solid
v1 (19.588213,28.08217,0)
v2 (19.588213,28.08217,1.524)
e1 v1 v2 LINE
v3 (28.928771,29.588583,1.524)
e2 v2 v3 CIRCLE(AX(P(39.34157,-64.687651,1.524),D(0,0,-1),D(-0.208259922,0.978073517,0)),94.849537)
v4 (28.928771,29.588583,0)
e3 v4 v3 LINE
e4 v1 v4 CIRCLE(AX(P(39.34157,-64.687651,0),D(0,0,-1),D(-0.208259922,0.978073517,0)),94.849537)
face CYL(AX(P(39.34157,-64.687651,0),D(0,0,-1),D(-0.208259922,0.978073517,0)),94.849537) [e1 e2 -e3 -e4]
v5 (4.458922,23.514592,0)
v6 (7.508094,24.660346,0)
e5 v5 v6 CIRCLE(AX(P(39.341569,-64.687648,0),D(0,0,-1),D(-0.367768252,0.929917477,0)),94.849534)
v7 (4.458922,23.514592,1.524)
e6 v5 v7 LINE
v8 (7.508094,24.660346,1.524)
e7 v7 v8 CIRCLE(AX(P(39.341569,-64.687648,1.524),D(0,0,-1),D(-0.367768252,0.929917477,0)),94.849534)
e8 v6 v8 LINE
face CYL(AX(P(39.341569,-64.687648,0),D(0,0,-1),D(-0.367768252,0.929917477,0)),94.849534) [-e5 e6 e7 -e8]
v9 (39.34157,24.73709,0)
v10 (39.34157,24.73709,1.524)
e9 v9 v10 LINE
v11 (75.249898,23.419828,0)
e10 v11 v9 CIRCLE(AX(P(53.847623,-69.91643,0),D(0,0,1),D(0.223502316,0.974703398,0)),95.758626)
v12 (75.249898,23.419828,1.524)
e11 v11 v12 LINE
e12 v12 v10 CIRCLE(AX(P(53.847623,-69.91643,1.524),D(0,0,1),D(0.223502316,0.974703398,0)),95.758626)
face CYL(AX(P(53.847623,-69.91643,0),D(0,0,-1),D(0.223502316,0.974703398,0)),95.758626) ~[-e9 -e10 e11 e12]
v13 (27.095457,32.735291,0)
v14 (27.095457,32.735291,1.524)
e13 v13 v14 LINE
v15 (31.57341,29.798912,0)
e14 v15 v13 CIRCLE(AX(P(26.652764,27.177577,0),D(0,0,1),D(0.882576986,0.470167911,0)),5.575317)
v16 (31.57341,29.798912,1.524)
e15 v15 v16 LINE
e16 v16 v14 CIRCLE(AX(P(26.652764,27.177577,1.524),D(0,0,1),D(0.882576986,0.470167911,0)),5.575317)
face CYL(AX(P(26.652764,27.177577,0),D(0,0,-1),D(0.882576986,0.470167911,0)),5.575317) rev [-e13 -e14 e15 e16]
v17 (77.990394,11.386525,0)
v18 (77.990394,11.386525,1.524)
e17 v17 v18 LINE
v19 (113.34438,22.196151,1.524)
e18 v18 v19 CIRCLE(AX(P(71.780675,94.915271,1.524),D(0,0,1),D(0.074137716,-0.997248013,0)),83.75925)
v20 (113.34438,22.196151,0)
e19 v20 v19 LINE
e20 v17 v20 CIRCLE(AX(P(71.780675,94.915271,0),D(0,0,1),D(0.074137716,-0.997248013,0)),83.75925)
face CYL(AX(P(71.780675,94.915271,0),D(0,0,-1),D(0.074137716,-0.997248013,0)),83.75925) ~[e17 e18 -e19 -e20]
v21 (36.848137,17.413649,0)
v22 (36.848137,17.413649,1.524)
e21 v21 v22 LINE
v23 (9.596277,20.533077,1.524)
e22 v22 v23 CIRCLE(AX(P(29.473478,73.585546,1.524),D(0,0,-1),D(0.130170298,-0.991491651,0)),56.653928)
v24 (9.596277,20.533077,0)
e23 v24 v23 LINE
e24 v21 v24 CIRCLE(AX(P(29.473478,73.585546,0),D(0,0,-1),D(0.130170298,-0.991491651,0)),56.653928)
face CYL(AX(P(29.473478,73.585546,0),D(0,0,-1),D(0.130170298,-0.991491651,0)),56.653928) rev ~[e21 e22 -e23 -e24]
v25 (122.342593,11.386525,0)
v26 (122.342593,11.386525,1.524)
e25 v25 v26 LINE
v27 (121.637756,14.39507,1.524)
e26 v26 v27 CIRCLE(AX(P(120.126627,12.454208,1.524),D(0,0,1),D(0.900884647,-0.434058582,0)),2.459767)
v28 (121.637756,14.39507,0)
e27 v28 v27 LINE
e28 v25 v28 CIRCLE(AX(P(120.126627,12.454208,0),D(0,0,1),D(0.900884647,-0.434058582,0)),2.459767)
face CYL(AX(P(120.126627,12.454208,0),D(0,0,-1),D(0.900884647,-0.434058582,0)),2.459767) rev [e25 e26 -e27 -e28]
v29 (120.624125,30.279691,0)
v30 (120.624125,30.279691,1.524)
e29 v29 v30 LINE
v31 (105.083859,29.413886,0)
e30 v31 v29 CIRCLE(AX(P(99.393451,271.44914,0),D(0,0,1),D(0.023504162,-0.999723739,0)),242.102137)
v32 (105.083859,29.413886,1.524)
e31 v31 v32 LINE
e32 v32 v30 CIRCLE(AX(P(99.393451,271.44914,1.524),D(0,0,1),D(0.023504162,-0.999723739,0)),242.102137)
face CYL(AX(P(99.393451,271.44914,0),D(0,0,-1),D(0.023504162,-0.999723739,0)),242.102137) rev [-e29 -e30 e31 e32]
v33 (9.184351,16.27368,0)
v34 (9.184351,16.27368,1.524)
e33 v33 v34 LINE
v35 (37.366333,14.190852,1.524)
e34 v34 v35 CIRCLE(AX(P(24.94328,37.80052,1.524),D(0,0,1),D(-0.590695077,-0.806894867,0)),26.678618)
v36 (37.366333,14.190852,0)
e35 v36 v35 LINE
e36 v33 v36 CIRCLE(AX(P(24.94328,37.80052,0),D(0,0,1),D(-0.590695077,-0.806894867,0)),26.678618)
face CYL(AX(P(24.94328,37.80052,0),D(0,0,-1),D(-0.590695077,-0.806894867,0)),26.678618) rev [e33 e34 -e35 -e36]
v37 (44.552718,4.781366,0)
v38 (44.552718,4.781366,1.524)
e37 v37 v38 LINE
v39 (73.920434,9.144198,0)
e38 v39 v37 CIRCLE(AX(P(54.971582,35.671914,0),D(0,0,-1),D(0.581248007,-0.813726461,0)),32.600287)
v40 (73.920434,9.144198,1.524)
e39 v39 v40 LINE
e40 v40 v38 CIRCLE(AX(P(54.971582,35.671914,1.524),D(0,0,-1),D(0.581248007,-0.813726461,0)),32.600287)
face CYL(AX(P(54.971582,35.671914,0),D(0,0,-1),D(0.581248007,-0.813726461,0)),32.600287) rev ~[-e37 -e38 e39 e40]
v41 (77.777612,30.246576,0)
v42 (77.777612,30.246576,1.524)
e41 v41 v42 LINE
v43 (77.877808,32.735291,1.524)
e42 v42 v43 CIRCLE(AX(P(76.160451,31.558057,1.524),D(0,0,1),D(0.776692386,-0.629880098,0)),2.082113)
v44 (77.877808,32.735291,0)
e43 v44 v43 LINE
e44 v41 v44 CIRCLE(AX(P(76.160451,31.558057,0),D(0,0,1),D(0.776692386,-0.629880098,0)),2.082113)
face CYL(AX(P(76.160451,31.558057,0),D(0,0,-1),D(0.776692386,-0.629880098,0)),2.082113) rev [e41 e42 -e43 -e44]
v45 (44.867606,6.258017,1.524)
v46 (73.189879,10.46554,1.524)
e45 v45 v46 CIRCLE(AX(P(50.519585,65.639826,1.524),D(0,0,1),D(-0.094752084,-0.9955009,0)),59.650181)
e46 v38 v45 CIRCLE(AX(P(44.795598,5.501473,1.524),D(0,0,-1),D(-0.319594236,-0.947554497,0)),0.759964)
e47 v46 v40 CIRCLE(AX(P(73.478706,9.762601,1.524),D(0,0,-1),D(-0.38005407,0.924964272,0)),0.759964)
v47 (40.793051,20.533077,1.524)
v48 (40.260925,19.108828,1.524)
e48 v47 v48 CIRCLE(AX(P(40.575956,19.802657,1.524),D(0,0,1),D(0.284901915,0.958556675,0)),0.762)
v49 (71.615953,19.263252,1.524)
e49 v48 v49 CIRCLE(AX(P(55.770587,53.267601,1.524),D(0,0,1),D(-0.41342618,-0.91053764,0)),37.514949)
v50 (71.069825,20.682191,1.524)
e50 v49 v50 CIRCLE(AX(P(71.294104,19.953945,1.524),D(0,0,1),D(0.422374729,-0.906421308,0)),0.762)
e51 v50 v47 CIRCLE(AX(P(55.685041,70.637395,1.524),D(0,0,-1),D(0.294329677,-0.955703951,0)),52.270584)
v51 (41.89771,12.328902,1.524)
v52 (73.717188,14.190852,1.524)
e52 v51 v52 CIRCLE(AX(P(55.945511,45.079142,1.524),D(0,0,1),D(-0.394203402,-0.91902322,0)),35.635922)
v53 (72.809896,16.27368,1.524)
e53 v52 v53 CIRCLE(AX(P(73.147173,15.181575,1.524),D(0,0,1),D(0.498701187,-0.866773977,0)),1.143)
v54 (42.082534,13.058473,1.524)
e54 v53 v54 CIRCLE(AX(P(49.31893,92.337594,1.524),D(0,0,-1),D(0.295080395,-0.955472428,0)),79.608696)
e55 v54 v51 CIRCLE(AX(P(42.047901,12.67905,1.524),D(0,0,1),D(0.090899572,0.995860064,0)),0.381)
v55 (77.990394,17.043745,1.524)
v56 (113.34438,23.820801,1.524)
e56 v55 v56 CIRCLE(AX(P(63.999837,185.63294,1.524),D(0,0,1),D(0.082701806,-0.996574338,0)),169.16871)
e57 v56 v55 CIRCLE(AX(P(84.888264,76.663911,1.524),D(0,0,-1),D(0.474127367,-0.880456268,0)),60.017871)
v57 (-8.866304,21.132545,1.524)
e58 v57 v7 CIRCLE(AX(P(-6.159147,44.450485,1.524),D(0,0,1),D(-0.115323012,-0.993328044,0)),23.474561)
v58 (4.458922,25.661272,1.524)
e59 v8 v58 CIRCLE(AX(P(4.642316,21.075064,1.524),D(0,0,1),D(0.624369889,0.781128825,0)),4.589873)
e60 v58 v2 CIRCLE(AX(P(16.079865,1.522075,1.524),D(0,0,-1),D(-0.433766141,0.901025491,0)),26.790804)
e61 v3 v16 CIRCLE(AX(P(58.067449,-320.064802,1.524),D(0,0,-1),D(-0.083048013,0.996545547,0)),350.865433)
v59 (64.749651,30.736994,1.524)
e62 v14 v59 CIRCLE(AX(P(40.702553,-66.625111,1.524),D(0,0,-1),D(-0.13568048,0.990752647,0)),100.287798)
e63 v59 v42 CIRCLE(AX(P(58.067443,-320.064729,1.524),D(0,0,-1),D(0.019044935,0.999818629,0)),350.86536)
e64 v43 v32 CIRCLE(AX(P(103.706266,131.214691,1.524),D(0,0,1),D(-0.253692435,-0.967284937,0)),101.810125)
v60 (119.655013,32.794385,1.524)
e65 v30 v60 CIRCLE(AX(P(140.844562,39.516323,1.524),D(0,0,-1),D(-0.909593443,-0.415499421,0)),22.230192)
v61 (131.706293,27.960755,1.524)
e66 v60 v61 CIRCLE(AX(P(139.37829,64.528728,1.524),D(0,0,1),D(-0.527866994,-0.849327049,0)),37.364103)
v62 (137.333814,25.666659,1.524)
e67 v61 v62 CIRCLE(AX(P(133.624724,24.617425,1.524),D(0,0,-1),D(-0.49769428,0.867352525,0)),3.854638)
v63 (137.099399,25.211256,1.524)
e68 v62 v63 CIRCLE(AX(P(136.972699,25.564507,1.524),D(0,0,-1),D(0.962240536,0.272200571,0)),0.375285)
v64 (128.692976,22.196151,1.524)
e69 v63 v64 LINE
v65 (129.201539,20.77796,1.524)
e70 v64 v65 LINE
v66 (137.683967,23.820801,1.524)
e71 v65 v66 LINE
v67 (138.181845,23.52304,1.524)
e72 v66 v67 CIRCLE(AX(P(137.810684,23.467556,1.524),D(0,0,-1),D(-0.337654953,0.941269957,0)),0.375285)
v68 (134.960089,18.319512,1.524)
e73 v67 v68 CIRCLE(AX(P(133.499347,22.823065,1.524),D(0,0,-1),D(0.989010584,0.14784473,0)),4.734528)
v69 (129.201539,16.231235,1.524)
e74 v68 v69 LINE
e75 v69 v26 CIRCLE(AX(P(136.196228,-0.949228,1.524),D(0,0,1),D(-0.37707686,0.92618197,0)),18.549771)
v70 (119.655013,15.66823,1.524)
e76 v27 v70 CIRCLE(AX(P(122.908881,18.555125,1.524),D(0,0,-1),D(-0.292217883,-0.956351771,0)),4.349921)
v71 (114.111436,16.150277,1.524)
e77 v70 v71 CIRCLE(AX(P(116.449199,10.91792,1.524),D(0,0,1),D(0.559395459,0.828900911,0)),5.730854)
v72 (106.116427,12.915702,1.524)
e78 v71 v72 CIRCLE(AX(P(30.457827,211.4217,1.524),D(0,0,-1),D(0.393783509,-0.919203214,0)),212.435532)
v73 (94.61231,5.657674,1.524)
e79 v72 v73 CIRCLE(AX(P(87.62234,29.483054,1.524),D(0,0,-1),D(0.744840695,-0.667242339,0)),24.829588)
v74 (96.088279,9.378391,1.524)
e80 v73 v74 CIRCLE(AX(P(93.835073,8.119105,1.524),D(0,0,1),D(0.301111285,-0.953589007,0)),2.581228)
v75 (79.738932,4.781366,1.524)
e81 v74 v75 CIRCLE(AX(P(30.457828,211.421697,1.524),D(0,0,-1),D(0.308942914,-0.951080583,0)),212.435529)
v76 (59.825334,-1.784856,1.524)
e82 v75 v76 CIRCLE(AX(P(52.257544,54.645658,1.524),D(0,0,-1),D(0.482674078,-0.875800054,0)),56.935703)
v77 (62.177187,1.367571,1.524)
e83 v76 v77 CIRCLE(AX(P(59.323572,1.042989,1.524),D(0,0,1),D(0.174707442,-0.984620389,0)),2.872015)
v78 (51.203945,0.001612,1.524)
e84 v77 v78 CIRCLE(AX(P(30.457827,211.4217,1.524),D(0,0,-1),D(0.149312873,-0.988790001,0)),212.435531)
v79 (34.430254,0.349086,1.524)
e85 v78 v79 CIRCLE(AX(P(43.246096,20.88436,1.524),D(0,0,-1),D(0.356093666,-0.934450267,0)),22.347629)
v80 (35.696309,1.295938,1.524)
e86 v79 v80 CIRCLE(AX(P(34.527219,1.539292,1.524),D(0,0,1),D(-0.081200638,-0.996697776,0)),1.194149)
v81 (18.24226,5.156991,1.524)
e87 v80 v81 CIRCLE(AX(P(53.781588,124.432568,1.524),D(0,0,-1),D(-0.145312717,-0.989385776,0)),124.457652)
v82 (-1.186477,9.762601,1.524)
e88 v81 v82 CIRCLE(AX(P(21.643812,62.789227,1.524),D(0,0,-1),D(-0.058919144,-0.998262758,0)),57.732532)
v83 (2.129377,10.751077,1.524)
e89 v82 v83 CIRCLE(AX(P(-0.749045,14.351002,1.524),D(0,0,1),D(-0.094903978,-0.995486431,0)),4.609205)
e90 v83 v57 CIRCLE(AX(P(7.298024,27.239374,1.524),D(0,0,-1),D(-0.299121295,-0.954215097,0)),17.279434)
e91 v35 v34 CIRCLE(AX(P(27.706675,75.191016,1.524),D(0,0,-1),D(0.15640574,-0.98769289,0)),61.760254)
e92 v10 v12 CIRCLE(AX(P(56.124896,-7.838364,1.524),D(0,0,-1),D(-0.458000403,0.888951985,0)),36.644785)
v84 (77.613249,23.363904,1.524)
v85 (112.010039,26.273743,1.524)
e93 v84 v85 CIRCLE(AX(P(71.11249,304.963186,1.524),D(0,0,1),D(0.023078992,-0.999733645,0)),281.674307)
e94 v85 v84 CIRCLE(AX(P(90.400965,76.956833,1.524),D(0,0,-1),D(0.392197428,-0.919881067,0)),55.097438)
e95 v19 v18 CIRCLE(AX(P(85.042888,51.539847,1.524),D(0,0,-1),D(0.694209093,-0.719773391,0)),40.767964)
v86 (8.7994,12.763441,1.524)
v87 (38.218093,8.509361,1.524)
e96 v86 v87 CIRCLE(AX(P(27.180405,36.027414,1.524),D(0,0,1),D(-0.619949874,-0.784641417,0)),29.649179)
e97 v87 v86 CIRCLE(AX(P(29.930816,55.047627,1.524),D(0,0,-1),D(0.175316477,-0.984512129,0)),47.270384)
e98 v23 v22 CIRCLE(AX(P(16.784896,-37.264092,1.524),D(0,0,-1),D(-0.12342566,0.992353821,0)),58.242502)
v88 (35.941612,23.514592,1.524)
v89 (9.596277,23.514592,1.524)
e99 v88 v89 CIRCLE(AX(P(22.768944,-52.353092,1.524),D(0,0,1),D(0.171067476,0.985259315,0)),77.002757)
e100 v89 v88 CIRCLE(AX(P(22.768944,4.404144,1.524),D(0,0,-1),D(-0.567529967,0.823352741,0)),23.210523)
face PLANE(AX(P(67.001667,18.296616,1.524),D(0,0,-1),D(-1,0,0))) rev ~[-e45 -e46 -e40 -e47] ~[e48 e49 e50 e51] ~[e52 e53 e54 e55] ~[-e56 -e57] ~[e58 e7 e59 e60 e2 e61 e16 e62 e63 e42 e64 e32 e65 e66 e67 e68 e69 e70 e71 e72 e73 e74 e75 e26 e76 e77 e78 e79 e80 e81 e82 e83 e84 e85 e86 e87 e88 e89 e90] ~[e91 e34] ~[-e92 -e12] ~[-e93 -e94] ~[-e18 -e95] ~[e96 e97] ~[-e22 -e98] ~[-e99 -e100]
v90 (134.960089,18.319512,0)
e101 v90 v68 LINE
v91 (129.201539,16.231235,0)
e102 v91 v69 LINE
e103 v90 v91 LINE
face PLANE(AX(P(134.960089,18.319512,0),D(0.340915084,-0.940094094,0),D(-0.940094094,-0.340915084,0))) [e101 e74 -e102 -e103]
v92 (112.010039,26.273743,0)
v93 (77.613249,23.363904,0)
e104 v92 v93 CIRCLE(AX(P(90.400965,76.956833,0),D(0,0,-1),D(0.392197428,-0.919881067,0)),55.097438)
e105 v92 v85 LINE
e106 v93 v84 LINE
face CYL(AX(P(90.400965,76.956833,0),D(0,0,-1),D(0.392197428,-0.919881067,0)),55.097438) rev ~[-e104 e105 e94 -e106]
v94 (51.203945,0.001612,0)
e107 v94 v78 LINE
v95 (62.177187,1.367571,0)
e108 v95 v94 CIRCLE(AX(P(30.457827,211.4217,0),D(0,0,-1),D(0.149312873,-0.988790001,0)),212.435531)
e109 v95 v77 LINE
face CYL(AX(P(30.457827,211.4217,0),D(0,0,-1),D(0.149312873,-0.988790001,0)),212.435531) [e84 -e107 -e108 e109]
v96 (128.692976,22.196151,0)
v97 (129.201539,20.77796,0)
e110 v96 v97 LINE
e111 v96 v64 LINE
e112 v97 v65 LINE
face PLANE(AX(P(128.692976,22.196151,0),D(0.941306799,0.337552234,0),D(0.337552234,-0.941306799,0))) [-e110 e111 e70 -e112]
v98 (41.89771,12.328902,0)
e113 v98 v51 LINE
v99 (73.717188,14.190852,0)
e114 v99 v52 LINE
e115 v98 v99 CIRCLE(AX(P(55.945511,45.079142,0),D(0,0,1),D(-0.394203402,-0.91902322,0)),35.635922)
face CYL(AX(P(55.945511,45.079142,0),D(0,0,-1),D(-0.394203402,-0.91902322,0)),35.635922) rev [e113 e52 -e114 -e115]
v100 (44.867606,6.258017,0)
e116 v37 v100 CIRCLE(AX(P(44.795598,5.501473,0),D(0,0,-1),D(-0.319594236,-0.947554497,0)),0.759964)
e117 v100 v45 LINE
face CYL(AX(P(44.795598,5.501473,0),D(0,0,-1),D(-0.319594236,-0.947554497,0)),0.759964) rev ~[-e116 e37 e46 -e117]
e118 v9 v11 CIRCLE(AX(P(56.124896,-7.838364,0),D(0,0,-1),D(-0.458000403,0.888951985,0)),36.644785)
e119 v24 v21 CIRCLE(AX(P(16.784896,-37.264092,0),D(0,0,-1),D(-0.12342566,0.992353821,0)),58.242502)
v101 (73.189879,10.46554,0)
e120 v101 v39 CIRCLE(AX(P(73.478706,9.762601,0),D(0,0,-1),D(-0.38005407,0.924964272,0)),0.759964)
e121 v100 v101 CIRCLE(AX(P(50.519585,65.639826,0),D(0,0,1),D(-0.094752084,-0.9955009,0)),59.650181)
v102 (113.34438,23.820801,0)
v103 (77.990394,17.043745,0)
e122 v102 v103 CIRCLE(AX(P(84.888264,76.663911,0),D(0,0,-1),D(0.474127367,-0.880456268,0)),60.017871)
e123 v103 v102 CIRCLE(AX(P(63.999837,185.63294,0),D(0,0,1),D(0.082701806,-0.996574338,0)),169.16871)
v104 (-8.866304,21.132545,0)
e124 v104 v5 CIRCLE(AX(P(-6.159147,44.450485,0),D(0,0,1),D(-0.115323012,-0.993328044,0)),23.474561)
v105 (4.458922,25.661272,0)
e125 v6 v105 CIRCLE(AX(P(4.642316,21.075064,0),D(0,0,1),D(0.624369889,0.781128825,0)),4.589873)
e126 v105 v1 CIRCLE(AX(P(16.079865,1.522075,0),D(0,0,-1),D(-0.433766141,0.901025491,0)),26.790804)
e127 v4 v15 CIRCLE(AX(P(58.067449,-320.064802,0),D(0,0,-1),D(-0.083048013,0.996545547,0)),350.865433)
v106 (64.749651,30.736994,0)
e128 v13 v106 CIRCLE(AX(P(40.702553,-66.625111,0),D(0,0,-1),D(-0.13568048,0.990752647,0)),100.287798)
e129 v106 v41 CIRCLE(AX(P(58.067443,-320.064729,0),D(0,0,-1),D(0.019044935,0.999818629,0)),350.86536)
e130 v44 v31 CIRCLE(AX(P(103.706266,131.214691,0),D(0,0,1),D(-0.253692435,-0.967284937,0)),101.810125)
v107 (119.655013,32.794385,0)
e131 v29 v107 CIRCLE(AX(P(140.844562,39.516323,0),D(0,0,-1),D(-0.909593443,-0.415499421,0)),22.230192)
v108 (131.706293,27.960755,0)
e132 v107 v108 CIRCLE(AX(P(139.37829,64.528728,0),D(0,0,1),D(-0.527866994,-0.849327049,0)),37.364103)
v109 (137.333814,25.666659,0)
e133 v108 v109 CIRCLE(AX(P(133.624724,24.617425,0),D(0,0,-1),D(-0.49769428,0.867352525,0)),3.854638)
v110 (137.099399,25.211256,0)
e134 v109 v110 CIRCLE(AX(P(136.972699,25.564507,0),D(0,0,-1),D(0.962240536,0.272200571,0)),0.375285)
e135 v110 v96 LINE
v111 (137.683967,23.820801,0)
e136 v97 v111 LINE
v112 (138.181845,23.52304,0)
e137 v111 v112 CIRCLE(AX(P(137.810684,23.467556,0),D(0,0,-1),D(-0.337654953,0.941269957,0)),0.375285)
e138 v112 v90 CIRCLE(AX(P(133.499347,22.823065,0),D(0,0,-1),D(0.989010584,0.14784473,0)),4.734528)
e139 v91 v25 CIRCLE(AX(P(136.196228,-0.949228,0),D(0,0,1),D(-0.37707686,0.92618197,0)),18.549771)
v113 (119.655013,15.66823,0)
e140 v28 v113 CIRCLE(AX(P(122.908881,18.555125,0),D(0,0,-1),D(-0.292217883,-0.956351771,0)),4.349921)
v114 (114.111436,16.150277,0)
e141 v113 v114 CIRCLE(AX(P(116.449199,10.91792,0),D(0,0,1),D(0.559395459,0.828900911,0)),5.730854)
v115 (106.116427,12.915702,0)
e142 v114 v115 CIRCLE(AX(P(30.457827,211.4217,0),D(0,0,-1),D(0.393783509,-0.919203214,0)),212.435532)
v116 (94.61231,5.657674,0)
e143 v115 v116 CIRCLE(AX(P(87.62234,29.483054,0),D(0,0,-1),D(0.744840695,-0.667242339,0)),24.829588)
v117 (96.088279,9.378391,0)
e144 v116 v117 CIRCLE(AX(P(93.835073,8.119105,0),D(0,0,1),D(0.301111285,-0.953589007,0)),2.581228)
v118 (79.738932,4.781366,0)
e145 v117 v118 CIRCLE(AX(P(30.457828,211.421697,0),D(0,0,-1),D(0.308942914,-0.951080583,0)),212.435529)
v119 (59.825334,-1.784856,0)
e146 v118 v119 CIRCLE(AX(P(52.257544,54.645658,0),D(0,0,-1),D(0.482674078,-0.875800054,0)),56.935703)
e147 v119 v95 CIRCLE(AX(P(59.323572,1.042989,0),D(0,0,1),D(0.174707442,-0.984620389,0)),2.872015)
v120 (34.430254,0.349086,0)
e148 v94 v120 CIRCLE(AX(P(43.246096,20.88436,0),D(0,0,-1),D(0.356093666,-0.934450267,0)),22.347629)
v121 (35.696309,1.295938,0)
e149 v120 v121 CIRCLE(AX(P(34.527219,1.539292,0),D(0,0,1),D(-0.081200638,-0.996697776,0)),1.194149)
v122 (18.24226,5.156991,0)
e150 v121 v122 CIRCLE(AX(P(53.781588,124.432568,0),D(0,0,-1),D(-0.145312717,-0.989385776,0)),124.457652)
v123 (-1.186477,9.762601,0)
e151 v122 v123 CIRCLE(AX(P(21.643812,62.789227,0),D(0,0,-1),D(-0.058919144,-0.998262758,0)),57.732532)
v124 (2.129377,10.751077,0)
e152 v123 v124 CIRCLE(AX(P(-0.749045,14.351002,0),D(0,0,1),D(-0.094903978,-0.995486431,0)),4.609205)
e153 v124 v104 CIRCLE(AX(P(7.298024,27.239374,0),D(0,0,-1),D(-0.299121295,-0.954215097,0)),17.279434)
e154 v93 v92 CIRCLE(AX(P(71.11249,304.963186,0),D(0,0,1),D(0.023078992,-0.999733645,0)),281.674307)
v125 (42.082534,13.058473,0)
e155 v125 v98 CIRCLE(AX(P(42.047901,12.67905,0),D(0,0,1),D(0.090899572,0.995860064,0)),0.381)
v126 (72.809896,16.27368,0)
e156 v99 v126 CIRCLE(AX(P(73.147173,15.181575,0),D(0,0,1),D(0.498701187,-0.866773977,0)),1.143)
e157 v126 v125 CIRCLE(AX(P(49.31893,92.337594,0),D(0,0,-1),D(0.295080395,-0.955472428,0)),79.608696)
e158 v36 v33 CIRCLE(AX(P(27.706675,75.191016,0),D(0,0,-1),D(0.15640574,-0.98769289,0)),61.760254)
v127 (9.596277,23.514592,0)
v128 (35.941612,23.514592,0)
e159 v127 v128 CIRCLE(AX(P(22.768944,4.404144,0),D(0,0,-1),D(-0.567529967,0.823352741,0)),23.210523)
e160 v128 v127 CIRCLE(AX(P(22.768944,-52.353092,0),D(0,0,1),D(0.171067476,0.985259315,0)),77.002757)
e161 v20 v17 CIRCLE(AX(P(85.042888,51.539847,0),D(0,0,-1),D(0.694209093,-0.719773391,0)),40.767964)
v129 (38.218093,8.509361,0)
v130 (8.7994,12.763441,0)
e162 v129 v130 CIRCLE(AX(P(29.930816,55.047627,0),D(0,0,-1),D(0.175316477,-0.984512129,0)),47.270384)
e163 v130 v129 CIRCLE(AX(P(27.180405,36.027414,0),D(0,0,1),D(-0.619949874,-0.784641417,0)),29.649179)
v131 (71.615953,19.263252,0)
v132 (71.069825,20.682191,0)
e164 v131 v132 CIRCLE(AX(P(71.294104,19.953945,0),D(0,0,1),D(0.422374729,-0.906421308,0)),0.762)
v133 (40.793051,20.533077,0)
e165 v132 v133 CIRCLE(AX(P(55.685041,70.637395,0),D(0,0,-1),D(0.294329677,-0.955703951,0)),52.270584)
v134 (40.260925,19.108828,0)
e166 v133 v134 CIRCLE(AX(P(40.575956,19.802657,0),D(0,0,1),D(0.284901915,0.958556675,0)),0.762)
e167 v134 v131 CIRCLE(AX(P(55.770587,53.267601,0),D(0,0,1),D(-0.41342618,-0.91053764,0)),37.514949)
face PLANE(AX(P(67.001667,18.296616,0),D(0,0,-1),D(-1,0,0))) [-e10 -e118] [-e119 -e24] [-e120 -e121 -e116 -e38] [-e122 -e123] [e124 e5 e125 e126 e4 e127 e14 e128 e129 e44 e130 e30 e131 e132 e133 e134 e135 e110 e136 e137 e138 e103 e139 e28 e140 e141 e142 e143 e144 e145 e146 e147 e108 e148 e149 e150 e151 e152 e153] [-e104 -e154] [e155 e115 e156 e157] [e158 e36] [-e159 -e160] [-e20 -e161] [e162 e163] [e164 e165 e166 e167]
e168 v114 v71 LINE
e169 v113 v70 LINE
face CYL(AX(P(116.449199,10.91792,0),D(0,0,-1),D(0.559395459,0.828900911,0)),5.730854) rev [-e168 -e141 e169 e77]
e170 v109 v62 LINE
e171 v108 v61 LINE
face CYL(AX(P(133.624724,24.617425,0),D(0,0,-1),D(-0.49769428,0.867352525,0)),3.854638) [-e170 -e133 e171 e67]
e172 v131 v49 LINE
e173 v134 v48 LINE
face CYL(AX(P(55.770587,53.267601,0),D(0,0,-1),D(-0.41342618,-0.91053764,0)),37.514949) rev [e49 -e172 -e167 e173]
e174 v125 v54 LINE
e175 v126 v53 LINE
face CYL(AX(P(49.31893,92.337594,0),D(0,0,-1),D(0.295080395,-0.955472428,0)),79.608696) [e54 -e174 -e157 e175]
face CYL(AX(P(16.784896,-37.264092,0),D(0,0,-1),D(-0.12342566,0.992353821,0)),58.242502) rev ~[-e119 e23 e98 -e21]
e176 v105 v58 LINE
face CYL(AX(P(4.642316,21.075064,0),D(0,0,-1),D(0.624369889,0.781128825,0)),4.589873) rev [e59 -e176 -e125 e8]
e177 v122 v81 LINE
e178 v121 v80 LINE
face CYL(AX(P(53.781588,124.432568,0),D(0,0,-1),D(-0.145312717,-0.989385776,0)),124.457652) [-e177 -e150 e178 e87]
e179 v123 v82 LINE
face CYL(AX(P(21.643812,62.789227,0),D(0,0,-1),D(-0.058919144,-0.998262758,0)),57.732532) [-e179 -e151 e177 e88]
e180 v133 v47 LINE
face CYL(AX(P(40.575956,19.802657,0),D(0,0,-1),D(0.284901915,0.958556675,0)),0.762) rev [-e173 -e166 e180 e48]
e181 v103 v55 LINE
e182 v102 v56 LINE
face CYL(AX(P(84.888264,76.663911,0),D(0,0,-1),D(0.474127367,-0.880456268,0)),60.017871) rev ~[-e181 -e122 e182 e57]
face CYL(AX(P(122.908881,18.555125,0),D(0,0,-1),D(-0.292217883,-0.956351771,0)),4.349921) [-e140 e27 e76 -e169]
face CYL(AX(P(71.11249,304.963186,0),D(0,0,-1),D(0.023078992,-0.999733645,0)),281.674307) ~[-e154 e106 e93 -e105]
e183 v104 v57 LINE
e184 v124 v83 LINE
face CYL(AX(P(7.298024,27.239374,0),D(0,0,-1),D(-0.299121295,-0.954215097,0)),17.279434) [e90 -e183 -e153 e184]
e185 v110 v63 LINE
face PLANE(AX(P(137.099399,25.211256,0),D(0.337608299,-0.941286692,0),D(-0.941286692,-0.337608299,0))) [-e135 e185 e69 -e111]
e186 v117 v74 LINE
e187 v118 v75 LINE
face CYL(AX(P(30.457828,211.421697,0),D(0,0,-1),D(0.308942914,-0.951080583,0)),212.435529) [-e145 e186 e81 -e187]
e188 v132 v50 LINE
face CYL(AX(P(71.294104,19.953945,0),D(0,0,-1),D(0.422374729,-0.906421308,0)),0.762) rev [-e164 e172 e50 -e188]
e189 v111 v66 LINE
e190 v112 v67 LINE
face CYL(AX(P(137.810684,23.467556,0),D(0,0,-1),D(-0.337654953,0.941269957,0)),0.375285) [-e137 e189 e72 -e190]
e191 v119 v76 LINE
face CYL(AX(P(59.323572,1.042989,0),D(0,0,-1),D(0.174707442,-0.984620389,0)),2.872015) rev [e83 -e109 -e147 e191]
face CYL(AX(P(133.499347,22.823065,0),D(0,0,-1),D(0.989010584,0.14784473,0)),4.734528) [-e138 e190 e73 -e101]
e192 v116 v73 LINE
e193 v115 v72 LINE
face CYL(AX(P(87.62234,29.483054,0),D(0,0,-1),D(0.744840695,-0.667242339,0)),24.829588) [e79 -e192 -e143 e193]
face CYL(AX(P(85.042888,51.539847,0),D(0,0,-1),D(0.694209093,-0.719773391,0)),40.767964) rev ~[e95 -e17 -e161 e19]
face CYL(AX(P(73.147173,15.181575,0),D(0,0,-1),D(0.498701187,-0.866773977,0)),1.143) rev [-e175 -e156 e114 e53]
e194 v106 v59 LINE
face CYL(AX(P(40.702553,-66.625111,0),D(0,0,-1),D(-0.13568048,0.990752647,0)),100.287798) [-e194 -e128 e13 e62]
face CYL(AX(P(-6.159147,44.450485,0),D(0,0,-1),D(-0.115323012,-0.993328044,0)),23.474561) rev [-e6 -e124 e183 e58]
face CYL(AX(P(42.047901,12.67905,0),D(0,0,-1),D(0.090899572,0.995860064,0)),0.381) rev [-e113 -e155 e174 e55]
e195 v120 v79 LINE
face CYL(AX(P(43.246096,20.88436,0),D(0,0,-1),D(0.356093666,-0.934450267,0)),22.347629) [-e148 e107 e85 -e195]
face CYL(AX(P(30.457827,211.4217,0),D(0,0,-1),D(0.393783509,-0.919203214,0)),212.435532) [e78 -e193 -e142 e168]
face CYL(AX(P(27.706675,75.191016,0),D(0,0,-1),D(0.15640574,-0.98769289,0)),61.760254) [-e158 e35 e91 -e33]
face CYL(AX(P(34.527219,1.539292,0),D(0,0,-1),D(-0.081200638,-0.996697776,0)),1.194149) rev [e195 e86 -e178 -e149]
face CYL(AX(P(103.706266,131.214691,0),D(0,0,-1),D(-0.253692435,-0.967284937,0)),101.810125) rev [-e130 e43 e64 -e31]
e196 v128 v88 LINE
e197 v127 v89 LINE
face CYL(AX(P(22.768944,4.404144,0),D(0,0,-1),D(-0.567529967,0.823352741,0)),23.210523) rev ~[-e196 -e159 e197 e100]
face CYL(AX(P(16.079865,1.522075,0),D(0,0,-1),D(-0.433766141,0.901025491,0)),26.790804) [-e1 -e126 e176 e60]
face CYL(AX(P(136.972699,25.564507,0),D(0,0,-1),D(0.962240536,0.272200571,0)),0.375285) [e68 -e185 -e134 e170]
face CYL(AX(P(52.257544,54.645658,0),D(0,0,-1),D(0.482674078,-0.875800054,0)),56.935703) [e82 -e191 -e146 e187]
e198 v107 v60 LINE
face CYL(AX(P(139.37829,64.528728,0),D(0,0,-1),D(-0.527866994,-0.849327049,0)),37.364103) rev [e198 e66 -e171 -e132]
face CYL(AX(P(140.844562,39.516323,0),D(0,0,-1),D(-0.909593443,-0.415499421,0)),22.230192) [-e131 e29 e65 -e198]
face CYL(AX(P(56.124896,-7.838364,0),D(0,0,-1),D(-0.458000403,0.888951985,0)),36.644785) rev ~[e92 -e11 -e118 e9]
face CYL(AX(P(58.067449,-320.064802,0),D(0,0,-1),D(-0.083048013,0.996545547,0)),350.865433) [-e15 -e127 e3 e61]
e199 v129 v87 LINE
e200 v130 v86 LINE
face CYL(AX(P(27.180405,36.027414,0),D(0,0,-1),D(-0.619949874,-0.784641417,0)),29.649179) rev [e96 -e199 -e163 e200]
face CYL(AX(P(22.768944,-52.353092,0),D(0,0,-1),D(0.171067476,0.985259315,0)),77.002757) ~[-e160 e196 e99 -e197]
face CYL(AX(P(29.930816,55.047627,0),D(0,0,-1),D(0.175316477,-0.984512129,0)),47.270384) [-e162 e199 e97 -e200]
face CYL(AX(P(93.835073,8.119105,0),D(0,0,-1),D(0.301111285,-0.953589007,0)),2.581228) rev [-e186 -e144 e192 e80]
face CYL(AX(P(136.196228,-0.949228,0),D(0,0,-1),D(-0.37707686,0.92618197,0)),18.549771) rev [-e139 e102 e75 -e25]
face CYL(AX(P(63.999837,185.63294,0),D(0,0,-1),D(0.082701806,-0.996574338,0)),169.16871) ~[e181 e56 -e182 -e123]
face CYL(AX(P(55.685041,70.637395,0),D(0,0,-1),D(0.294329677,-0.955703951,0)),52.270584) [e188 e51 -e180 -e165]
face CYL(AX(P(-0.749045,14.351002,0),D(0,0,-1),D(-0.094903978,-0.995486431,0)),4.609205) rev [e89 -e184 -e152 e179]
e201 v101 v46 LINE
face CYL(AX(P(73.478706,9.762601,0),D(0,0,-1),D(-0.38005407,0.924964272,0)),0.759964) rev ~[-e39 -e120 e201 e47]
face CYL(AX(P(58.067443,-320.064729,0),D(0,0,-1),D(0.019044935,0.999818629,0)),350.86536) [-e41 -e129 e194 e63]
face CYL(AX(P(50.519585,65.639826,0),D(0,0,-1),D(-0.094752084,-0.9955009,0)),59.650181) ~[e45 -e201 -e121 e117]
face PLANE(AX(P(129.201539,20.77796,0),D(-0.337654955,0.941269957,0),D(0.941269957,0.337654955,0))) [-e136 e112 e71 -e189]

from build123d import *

# Parameters (mm, degrees)
BOSS_EXTRUDE1_DEPTH = 1.524


with BuildPart() as part:
    # Model → Boss-Extrude1 (new body)
    with BuildSketch(Plane.XY):
        with BuildLine():
            Line((134.96008858, 18.319511963), (129.201538518, 16.231235276))
            ThreePointArc((129.201538518, 16.231235276), (125.494314224, 14.202109959), (122.342593367, 11.386525267))
            ThreePointArc((122.342593367, 11.386525267), (122.521547644, 13.015286897), (121.637755911, 14.395069943))
            ThreePointArc((121.637755911, 14.395069943), (120.558535261, 14.894839146), (119.655012959, 15.668230327))
            ThreePointArc((119.655012959, 15.668230327), (116.945656671, 16.627230011), (114.111435919, 16.150276533))
            ThreePointArc((114.111435919, 16.150276533), (110.130348083, 14.492411945), (106.116427247, 12.915701804))
            ThreePointArc((106.116427247, 12.915701804), (100.871077069, 8.483544727), (94.612309809, 5.65767367))
            ThreePointArc((94.612309809, 5.65767367), (96.234412345, 7.167311858), (96.088279041, 9.378390589))
            ThreePointArc((96.088279041, 9.378390589), (87.959563224, 6.916430033), (79.738932416, 4.781365698))
            ThreePointArc((79.738932416, 4.781365698), (70.087015382, 0.573629162), (59.825334355, -1.784855875))
            ThreePointArc((59.825334355, -1.784855875), (61.625546567, -0.674388225), (62.177186804, 1.367570505))
            ThreePointArc((62.177186804, 1.367570505), (56.69945513, 0.613180121), (51.20394484, 0.001611808))
            ThreePointArc((51.20394484, 0.001611808), (42.783253785, -1.45847583), (34.430253575, 0.349086412))
            ThreePointArc((34.430253575, 0.349086412), (35.242407465, 0.582998344), (35.696308866, 1.295937508))
            ThreePointArc((35.696308866, 1.295937508), (26.899874012, 2.912690878), (18.24226034, 5.156991018))
            ThreePointArc((18.24226034, 5.156991018), (8.327270493, 6.613476825), (-1.186477097, 9.762600728))
            ThreePointArc((-1.186477097, 9.762600728), (0.567723509, 9.933888345), (2.129376981, 10.751077214))
            ThreePointArc((2.129376981, 10.751077214), (-4.564424076, 14.67509235), (-8.866303828, 21.132545253))
            ThreePointArc((-8.866303828, 21.132545253), (-2.028267146, 21.342243043), (4.458921798, 23.51459164))
            ThreePointArc((4.458921798, 23.51459164), (5.978589155, 24.100559155), (7.508094135, 24.660346004))
            ThreePointArc((7.508094135, 24.660346004), (6.073839254, 25.435989759), (4.458921798, 25.661271599))
            ThreePointArc((4.458921798, 25.661271599), (11.846812063, 27.976344953), (19.588212991, 28.082169784))
            ThreePointArc((19.588212991, 28.082169784), (24.23969735, 28.951914388), (28.92877134, 29.588583491))
            ThreePointArc((28.92877134, 29.588583491), (30.250891965, 29.696247396), (31.57341018, 29.798912074))
            ThreePointArc((31.57341018, 29.798912074), (29.710039, 31.839896858), (27.095456614, 32.73529062))
            ThreePointArc((27.095456614, 32.73529062), (46.017315853, 33.521760077), (64.749650783, 30.73699449))
            ThreePointArc((64.749650783, 30.73699449), (71.265909378, 30.552300799), (77.77761193, 30.246575893))
            ThreePointArc((77.77761193, 30.246575893), (78.240878226, 31.474299031), (77.877808016, 32.73529062))
            ThreePointArc((77.877808016, 32.73529062), (91.368554355, 30.154894712), (105.083859187, 29.413886469))
            ThreePointArc((105.083859187, 29.413886469), (112.860951548, 29.721873992), (120.624125013, 30.279690879))
            ThreePointArc((120.624125013, 30.279690879), (120.101426826, 31.522338532), (119.655012959, 32.794384617))
            ThreePointArc((119.655012959, 32.794384617), (125.469075261, 29.850060932), (131.706292975, 27.960754811))
            ThreePointArc((131.706292975, 27.960754811), (135.079830026, 28.186864843), (137.333813614, 25.666659301))
            ThreePointArc((137.333813614, 25.666659301), (137.306373673, 25.392750403), (137.099398505, 25.211255734))
            Line((137.099398505, 25.211255734), (128.692975928, 22.19615093))
            Line((128.692975928, 22.19615093), (129.201538518, 20.777960276))
            Line((129.201538518, 20.777960276), (137.683967254, 23.82080051))
            ThreePointArc((137.683967254, 23.82080051), (138.003306934, 23.78963562), (138.181844931, 23.523039923))
            ThreePointArc((138.181844931, 23.523039923), (137.524769068, 20.330730705), (134.96008858, 18.319511963))
        make_face()
        with BuildLine():
            ThreePointArc((113.344379689, 22.19615093), (96.963122218, 12.553503985), (77.990394499, 11.386525267))
            ThreePointArc((77.990394499, 11.386525267), (96.271224533, 14.816426058), (113.344379689, 22.19615093))
        make_face(mode=Mode.SUBTRACT)
        with BuildLine():
            ThreePointArc((113.344379689, 23.82080051), (96.187450512, 17.719248724), (77.990394499, 17.043744891))
            ThreePointArc((77.990394499, 17.043744891), (95.848162694, 19.489217449), (113.344379689, 23.82080051))
        make_face(mode=Mode.SUBTRACT)
        with BuildLine():
            ThreePointArc((112.010038699, 26.273742515), (95.04541072, 22.055495603), (77.613248587, 23.363904105))
            ThreePointArc((77.613248587, 23.363904105), (94.856261251, 24.29140484), (112.010038699, 26.273742515))
        make_face(mode=Mode.SUBTRACT)
        with BuildLine():
            ThreePointArc((73.920433764, 9.144198092), (59.762067232, 3.425519676), (44.552717894, 4.781365698))
            ThreePointArc((44.552717894, 4.781365698), (44.052345371, 5.659967485), (44.86760609, 6.258017419))
            ThreePointArc((44.86760609, 6.258017419), (59.284947166, 6.637177896), (73.189879005, 10.465540071))
            ThreePointArc((73.189879005, 10.465540071), (74.143785851, 10.130315533), (73.920433764, 9.144198092))
        make_face(mode=Mode.SUBTRACT)
        with BuildLine():
            ThreePointArc((73.7171882, 14.19085222), (74.195068041, 15.63804442), (72.809895852, 16.27367986))
            ThreePointArc((72.809895852, 16.27367986), (57.603683966, 13.161162203), (42.082533848, 13.058472776))
            ThreePointArc((42.082533848, 13.058472776), (41.678568271, 12.772614258), (41.897709615, 12.328902245))
            ThreePointArc((41.897709615, 12.328902245), (58.027223609, 9.504074716), (73.7171882, 14.19085222))
        make_face(mode=Mode.SUBTRACT)
        with BuildLine():
            ThreePointArc((71.615953494, 19.263251529), (72.005249, 20.227653753), (71.069824737, 20.682190977))
            ThreePointArc((71.069824737, 20.682190977), (55.942470801, 18.367444511), (40.793050931, 20.533077418))
            ThreePointArc((40.793050931, 20.533077418), (39.862149142, 20.069348511), (40.260924923, 19.10882755))
            ThreePointArc((40.260924923, 19.10882755), (55.955346454, 15.753106638), (71.615953494, 19.263251529))
        make_face(mode=Mode.SUBTRACT)
        with BuildLine():
            ThreePointArc((75.249897816, 23.419828185), (57.358073705, 25.777828917), (39.34157015, 24.737090166))
            ThreePointArc((39.34157015, 24.737090166), (57.468271047, 28.781788902), (75.249897816, 23.419828185))
        make_face(mode=Mode.SUBTRACT)
        with BuildLine():
            ThreePointArc((38.218093055, 8.509361046), (23.165664514, 8.263848957), (8.79939997, 12.763440518))
            ThreePointArc((8.79939997, 12.763440518), (22.937130999, 6.683446576), (38.218093055, 8.509361046))
        make_face(mode=Mode.SUBTRACT)
        with BuildLine():
            ThreePointArc((37.366333435, 14.19085222), (23.1546149, 13.598745989), (9.184351398, 16.27367986))
            ThreePointArc((9.184351398, 16.27367986), (22.976923316, 11.194465897), (37.366333435, 14.19085222))
        make_face(mode=Mode.SUBTRACT)
        with BuildLine():
            ThreePointArc((36.84813704, 17.413649418), (23.030567399, 17.299167045), (9.596276919, 20.533077418))
            ThreePointArc((9.596276919, 20.533077418), (23.40846607, 20.600554903), (36.84813704, 17.413649418))
        make_face(mode=Mode.SUBTRACT)
        with BuildLine():
            ThreePointArc((35.94161169, 23.51459164), (22.768944305, 24.649665002), (9.596276919, 23.51459164))
            ThreePointArc((9.596276919, 23.51459164), (22.768944305, 27.614666916), (35.94161169, 23.51459164))
        make_face(mode=Mode.SUBTRACT)
    extrude(amount=BOSS_EXTRUDE1_DEPTH)


solid = part.part
